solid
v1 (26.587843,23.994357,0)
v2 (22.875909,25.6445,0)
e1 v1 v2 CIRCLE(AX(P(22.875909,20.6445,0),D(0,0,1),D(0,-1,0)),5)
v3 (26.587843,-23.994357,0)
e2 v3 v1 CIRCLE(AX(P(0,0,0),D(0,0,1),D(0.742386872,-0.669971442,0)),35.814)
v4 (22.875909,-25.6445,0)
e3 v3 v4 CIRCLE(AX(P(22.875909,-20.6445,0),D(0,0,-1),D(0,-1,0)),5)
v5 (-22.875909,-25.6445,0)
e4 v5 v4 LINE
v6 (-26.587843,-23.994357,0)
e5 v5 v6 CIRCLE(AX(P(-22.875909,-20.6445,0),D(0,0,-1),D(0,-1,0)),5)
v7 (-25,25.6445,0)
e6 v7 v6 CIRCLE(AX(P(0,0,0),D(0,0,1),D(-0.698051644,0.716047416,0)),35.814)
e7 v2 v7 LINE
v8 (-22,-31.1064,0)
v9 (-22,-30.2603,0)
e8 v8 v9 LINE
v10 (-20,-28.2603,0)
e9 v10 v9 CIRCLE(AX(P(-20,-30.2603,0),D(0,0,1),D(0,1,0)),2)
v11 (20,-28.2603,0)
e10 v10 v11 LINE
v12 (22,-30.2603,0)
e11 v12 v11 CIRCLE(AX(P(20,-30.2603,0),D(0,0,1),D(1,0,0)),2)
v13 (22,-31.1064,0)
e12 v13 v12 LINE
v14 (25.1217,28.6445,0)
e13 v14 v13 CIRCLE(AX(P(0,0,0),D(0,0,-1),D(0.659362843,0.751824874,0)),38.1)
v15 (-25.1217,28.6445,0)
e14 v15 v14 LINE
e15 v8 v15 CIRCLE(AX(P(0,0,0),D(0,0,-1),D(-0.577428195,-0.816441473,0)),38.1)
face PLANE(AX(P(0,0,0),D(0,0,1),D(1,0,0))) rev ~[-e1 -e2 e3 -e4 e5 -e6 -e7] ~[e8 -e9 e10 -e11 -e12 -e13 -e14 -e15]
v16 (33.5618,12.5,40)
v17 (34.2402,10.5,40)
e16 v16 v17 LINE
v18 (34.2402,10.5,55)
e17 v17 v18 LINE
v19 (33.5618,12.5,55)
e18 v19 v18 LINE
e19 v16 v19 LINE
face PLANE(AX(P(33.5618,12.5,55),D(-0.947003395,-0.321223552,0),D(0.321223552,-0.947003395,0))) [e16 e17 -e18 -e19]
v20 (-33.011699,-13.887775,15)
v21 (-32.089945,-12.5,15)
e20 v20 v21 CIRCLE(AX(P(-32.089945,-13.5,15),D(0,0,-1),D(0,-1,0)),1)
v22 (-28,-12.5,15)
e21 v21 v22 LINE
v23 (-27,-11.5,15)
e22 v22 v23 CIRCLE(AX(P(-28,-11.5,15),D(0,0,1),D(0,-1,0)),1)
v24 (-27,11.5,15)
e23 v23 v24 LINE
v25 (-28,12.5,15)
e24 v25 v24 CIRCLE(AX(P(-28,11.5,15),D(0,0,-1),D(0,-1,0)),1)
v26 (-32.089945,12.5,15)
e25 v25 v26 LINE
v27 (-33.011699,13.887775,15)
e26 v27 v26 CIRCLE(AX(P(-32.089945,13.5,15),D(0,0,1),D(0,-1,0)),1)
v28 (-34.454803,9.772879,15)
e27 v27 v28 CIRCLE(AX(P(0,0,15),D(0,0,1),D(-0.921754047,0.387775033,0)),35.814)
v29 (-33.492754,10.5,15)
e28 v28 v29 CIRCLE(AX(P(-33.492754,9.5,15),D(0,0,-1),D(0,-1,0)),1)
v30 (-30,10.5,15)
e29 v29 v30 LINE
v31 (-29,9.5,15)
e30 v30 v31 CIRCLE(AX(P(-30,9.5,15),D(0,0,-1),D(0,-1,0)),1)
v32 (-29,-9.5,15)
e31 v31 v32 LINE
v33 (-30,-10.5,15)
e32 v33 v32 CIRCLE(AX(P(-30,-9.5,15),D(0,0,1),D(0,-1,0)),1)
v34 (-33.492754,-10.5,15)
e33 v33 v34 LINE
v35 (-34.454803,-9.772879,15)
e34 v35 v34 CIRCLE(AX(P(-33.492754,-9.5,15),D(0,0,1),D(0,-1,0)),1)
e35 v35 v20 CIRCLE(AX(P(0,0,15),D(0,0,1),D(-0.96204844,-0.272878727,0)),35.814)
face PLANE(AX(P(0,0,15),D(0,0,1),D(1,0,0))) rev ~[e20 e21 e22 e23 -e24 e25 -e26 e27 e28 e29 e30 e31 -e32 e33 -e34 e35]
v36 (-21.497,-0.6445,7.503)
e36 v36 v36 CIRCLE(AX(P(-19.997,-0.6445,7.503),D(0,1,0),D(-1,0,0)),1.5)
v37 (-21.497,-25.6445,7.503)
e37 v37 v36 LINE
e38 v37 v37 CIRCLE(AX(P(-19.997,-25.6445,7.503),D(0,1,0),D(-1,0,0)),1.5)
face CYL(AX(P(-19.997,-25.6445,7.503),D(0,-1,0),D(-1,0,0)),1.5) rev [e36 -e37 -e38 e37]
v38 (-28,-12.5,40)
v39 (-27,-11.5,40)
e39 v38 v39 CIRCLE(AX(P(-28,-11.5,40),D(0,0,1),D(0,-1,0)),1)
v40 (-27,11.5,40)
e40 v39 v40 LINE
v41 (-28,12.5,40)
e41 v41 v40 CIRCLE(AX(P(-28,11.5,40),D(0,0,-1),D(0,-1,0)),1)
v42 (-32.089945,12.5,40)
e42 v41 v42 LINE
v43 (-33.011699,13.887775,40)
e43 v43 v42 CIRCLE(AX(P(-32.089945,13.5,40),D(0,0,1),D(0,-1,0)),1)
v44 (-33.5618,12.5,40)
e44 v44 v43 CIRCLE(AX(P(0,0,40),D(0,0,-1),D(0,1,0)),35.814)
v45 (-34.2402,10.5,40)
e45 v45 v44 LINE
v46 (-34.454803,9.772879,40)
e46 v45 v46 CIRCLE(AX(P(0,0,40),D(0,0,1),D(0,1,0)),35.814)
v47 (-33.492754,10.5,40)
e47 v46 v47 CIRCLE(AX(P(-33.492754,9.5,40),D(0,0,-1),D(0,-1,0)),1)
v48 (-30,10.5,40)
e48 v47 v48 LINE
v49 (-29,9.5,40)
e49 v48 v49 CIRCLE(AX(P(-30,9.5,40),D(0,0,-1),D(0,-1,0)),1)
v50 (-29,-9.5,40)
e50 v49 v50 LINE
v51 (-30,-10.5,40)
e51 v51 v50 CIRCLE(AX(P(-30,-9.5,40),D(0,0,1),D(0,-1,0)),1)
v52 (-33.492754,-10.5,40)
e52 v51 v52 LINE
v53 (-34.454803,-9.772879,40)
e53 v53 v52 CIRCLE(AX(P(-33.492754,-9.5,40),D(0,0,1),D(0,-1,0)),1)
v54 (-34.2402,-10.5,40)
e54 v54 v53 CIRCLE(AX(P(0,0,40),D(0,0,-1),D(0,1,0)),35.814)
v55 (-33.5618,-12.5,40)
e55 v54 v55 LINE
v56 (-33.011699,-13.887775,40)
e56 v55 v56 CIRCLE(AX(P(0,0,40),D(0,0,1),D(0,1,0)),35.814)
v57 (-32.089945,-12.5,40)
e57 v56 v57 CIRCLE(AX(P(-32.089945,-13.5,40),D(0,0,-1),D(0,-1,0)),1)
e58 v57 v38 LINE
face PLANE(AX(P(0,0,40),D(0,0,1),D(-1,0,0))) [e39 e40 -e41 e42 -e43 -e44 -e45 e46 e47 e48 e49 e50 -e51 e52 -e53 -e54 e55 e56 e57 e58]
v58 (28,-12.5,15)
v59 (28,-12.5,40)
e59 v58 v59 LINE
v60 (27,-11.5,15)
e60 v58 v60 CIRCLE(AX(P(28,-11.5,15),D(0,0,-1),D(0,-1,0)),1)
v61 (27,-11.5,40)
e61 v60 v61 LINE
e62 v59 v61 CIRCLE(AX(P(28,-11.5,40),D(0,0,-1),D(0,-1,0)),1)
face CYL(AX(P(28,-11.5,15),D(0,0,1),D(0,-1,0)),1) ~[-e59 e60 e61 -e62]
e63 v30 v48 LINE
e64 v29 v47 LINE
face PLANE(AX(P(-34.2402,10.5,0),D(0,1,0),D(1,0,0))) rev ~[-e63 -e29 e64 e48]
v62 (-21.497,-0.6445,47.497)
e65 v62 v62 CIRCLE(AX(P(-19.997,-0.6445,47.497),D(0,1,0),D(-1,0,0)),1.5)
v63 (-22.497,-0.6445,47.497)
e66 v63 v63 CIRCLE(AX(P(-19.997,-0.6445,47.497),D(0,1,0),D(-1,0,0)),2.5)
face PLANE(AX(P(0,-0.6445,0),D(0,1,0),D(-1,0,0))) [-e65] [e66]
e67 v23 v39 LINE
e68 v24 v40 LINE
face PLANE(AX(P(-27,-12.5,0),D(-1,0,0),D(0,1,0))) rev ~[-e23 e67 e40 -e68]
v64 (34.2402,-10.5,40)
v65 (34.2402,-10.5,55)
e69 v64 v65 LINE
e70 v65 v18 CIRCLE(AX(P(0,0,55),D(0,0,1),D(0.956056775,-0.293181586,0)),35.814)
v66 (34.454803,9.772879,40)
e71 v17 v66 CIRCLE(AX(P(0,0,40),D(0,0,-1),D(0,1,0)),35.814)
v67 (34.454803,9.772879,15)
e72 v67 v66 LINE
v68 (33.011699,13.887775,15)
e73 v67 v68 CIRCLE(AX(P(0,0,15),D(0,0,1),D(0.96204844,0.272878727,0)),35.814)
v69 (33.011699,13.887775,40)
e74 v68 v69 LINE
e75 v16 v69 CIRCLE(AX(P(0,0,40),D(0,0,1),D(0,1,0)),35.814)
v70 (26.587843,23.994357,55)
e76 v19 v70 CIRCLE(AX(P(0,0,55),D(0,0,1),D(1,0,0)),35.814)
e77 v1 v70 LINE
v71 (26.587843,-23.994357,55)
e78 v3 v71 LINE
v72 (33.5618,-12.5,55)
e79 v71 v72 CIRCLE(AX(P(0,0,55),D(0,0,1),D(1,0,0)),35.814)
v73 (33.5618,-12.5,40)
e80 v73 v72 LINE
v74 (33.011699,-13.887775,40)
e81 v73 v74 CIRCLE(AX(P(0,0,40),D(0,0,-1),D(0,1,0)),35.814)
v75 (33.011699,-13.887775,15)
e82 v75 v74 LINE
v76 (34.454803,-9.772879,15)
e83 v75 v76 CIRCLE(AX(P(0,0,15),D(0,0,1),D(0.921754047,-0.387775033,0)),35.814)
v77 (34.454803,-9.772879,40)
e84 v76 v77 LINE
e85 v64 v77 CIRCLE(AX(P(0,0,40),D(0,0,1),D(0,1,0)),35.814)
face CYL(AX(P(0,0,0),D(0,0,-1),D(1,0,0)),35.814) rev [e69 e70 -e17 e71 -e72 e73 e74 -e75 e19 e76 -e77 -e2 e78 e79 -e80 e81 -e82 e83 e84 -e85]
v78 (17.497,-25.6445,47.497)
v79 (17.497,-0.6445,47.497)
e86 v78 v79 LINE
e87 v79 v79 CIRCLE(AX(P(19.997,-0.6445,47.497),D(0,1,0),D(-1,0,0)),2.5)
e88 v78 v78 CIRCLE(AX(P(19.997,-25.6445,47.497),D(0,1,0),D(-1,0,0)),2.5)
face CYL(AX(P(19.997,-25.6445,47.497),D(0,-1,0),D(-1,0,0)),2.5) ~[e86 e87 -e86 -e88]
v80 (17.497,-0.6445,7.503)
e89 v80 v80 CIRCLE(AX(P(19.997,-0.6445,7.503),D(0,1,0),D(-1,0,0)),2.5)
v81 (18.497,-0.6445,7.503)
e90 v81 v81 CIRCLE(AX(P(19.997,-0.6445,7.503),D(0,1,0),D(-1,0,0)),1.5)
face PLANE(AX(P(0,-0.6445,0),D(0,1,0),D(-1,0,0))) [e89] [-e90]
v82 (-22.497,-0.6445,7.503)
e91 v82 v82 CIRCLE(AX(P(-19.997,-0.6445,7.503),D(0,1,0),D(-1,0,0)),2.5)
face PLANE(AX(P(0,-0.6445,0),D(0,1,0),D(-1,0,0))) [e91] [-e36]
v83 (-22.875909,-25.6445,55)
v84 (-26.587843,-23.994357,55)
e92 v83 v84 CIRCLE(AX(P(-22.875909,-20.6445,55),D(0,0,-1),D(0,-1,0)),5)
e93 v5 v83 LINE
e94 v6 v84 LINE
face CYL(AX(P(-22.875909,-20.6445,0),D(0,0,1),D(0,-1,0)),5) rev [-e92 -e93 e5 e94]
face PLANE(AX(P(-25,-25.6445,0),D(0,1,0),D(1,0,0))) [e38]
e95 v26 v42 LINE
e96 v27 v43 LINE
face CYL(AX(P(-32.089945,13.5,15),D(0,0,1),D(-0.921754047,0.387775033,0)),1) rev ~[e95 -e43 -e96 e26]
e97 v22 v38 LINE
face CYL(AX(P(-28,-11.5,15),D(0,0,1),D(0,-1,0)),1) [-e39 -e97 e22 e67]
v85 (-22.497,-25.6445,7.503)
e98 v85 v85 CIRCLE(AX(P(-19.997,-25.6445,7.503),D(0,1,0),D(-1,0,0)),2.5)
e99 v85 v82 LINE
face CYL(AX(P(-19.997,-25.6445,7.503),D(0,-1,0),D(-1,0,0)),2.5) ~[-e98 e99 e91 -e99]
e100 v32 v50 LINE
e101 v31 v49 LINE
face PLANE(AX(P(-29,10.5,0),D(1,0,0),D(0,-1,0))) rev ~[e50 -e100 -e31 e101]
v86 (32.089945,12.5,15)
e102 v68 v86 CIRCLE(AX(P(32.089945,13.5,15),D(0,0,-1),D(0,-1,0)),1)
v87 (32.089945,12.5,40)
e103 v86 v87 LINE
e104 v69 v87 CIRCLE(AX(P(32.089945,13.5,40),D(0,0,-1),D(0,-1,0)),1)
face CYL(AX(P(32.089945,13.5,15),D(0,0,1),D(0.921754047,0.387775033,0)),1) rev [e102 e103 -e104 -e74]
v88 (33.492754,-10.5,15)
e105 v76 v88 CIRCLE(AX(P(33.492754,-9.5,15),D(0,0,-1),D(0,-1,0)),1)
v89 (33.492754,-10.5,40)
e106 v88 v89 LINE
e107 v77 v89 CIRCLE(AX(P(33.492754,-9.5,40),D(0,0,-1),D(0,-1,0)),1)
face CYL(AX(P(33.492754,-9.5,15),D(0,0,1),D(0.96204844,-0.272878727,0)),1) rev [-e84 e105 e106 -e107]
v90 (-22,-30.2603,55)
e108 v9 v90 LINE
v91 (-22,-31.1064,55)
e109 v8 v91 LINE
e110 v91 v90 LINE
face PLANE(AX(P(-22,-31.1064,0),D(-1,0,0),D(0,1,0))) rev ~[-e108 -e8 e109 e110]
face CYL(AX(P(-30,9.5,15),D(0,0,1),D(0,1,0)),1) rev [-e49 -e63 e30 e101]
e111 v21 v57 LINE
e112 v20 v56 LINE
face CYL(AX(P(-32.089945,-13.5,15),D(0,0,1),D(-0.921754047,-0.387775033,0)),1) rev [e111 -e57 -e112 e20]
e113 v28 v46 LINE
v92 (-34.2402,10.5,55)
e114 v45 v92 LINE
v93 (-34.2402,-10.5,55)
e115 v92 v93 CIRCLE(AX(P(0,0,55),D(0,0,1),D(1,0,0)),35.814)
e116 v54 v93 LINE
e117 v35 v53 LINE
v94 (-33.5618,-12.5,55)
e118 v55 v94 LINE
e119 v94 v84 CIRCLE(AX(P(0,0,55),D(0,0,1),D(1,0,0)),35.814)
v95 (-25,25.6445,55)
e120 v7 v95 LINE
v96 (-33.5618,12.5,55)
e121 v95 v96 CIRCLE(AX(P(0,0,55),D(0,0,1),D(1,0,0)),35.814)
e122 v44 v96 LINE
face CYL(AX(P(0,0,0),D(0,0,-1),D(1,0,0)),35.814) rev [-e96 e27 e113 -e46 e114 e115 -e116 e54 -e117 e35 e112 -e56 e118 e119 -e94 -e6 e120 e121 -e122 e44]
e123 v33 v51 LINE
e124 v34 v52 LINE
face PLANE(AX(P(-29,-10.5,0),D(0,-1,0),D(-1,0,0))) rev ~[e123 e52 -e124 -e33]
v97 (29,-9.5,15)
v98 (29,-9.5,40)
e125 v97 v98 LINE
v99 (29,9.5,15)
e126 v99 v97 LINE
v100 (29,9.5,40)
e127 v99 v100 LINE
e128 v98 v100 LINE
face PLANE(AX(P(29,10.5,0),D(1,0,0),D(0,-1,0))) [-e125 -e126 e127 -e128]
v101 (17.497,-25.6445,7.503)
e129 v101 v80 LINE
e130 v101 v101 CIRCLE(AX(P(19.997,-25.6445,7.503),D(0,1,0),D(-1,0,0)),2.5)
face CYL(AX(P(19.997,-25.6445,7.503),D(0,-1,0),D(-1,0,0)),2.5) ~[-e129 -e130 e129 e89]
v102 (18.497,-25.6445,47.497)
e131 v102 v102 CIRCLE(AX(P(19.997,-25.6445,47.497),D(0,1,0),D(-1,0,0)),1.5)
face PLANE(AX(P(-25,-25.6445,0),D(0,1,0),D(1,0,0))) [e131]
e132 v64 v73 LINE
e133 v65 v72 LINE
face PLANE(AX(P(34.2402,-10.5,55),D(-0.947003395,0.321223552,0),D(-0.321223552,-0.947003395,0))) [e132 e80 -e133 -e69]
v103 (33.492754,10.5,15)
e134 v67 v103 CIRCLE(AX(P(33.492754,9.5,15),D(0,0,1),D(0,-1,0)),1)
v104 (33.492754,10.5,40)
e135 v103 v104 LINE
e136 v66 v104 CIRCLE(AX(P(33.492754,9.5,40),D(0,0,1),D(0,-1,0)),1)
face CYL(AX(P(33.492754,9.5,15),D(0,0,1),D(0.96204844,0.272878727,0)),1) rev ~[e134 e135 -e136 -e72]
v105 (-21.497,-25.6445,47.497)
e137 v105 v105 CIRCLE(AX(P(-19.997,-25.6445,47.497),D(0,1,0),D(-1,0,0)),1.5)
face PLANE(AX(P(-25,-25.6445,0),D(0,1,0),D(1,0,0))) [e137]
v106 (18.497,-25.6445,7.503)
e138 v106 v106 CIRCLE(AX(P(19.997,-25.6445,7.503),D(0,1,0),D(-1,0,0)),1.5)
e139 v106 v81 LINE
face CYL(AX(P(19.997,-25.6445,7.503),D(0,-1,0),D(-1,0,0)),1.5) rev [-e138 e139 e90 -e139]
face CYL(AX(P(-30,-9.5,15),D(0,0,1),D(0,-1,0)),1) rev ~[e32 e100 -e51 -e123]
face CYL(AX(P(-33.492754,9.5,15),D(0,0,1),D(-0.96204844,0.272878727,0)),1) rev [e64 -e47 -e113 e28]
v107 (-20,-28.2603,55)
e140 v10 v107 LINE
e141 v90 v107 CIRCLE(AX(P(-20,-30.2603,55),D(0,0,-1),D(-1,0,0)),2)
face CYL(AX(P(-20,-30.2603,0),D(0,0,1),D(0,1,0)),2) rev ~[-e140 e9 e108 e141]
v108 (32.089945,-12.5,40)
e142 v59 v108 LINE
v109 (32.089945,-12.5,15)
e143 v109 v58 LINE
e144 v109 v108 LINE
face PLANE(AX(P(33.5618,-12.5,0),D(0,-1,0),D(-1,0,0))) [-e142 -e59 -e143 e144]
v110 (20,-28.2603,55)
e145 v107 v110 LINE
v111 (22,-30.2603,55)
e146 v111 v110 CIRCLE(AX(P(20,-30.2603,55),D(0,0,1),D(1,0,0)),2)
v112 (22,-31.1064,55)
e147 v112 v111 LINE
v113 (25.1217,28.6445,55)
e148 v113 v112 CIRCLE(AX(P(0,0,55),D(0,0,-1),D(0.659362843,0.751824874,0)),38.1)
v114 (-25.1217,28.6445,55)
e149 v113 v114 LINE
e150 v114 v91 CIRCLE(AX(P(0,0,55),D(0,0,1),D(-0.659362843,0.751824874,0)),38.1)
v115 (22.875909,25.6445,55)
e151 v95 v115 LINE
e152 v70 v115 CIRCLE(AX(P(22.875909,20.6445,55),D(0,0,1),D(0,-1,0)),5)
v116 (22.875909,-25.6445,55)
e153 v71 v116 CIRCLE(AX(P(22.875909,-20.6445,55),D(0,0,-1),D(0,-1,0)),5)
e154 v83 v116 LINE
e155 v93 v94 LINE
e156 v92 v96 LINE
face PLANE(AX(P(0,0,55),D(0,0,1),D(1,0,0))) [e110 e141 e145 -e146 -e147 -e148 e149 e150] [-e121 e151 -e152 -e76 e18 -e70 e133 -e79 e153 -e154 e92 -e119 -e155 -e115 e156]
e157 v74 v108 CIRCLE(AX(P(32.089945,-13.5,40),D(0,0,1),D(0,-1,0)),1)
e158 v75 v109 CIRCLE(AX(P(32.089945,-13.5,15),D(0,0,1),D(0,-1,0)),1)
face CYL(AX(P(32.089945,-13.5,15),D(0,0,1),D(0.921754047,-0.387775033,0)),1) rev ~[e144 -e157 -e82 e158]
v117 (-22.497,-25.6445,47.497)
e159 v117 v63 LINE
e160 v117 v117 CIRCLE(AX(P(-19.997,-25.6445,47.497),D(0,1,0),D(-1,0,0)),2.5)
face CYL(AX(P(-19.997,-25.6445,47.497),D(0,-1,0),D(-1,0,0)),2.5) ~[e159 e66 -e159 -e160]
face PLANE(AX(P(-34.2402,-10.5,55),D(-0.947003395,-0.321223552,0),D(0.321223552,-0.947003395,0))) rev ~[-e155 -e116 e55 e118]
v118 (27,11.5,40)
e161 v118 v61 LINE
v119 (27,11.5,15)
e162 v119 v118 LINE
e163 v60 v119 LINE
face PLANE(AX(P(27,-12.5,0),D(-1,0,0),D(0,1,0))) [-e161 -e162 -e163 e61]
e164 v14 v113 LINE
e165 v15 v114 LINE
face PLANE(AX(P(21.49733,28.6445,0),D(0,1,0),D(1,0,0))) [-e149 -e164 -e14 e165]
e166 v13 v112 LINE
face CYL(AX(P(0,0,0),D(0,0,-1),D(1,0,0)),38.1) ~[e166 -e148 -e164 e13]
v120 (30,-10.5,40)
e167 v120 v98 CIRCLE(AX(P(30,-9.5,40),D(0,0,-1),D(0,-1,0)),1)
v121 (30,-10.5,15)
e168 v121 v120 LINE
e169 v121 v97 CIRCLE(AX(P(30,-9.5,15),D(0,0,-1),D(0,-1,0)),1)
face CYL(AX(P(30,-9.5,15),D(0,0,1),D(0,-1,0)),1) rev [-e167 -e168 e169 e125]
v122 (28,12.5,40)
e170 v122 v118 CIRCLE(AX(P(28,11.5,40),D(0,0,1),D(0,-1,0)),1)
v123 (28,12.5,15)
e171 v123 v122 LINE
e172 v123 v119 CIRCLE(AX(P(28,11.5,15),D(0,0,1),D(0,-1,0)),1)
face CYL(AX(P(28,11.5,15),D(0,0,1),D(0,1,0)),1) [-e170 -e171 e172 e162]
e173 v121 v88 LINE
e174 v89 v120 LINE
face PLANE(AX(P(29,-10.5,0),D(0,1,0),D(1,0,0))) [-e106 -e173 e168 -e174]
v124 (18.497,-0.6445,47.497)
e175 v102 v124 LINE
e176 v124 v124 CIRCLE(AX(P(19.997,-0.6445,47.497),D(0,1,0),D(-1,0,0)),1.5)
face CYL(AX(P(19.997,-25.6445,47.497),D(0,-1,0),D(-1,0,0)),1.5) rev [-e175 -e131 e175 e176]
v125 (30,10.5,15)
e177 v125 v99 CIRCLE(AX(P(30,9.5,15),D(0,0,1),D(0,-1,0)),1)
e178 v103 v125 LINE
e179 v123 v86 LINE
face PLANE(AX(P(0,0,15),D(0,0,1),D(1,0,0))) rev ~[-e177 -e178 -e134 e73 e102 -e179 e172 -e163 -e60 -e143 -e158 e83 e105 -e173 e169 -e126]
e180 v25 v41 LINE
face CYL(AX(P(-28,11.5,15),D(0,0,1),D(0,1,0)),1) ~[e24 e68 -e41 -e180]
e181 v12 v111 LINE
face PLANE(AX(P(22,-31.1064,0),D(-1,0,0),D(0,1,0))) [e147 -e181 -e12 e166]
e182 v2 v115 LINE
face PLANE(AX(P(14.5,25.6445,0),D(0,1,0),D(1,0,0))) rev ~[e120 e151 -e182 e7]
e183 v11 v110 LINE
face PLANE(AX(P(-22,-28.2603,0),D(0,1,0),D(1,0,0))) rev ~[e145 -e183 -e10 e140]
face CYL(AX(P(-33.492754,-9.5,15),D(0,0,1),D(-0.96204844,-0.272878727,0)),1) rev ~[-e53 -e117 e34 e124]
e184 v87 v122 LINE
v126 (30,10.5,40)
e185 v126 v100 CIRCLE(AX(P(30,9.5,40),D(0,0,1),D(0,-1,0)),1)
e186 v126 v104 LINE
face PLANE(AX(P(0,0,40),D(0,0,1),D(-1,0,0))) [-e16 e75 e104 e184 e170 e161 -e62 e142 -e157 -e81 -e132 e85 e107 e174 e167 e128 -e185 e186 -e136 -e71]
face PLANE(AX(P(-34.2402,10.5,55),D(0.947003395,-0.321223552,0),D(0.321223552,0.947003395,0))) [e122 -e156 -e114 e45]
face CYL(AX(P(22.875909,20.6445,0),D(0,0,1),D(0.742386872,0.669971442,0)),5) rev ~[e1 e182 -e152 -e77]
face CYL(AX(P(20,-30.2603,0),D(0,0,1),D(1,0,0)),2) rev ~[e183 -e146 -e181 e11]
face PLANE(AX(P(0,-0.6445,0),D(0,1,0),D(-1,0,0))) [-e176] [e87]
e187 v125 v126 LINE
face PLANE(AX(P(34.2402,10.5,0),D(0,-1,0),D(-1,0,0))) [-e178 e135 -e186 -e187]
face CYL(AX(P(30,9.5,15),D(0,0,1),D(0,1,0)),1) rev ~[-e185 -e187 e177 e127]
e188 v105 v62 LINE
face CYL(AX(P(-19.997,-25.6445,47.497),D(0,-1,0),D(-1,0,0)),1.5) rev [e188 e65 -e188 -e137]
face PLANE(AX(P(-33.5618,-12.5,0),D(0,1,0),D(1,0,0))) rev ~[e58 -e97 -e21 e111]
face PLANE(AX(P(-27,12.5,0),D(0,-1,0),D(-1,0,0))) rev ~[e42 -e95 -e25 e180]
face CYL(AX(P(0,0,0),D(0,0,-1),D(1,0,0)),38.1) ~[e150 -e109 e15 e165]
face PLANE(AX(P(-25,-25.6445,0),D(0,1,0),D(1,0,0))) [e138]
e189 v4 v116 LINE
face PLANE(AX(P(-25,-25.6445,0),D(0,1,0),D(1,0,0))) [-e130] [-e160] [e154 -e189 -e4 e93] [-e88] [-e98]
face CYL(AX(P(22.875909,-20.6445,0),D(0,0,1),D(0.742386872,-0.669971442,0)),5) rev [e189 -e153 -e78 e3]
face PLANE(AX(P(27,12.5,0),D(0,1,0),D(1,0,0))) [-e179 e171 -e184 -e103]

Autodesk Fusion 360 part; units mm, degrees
sketch "Sketch1" plane through (0, 0, 0) normal (0, 0, 1) x (1, 0, 0)
  circle A0 centre (0, 0) radius 35.814
  circle A1 centre (0, 0) radius 38.1
  line L0 (-25, -25.6445) -> (25, -25.6445)
  line L1 (-25, 25.6445) -> (-25, -25.6445)
  line L2 (-25, 25.6445) -> (28.1774, 25.6445)
  line L3 (-25, 25.6445) -> (-28.1774, 25.6445)
  line L4 (-22, -31.1064) -> (-22, -28.2603)
  line L5 (-22, -28.2603) -> (22, -28.2603)
  line L6 (22, -31.1064) -> (22, -28.2603)
  line L7 (-25.1217, 28.6445) -> (25.1217, 28.6445)
  line L8 (12.5, 25.6445) -> (-12.5, 25.6445)
  line L9 (-12.5, 25.6445) -> (-12.5, 21.6445)
  line L10 (-12.5, 21.6445) -> (12.5, 21.6445)
  line L11 (12.5, 21.6445) -> (12.5, 25.6445)
  line L12 (14.5, 25.6445) -> (-14.5, 25.6445)
  line L13 (-14.5, 25.6445) -> (-14.5, 19.6445)
  line L14 (-14.5, 19.6445) -> (14.5, 19.6445)
  line L15 (14.5, 19.6445) -> (14.5, 25.6445)
  line L16 (0, 21.6445) -> (0, 25.6445)
  line L17 (0, 25.6445) -> (0, 0) construction
  line L18 (34.2402, 10.5) -> (29, 10.5)
  line L19 (29, 10.5) -> (29, -10.5)
  line L20 (29, -10.5) -> (34.2402, -10.5)
  line L21 (33.5618, -12.5) -> (27, -12.5)
  line L22 (27, -12.5) -> (27, 12.5)
  line L23 (27, 12.5) -> (33.5618, 12.5)
  line L24 (27, 0) -> (0, 0) construction
  line L25 (-27, -12.5) -> (-27, 12.5)
  line L26 (-29, 10.5) -> (-29, -10.5)
  line L27 (-34.2402, 10.5) -> (-29, 10.5)
  line L28 (-27, 12.5) -> (-33.5618, 12.5)
  line L29 (-29, -10.5) -> (-34.2402, -10.5)
  line L30 (-33.5618, -12.5) -> (-27, -12.5)
  dimension "d1" = 76.2
  dimension "d3" = 50
  dimension "d15" = 3
  dimension "d16" = 3
  dimension "d24" = 2
  dimension "d25" = 2
  dimension "d26" = 2
  dimension "d27" = 25
  dimension "d28" = 6
  dimension "d37" = 2
  dimension "d38" = 25
  dimension "d39" = 2
  dimension "d40" = 2
  dimension "d41" = 2
  dimension "d60" = 71.628
extrude "Extrude1" add sketch "Sketch1" along normal blind 55 contours A0 A1 L2 L6 | A0 L18 L19 L20 L21 L22 L23 | A0 L2 L7 L8 L12 | A0 A1 L2 L7 | A0 L0 L5 | A0 A1 L3 L4 | A0 A1 L3 L7 | A0 L25 L26 L27 L28 L29 L30
sketch "Sketch3" plane through (0, -25.6445, 0) normal (0, 1, 0) x (-1, 0, 0)
  line L0 (-25, 0) -> (25, 0)
  line L1 (25, 0) -> (25, 55)
  line L2 (25, 55) -> (-25, 55)
  line L3 (-25, 55) -> (-25, 0)
  line L4 (0, 0) -> (0, 27.5) construction
  line L5 (-25, 27.5) -> (0, 27.5) construction
  line L6 (0, 27.5) -> (-19.997, 7.503) construction
  circle A0 centre (-19.997, 7.503) radius 1.5
  circle A1 centre (-19.997, 7.503) radius 2.5
  circle A2 centre (19.997, 7.503) radius 2.5
  circle A3 centre (19.997, 7.503) radius 1.5
  circle A4 centre (19.997, 47.497) radius 2.5
  circle A5 centre (19.997, 47.497) radius 1.5
  circle A6 centre (-19.997, 47.497) radius 2.5
  circle A7 centre (-19.997, 47.497) radius 1.5
  dimension "d7" = 45
  dimension "d8" = 28.28
  dimension "d9" = 3
  dimension "d10" = 5
  dimension "d12" = 360
extrude "Extrude2" add sketch "Sketch3" along normal blind 25 contours A1 | A2 | A4 | A6
fillet "Fillet1" radius 2 2 edges at (22, -28.2603, 27.5) (-22, -28.2603, 27.5)
fillet "Fillet2" radius 5 4 edges at (25, -25.6445, 27.5) (25, -25.6445, 27.5) (25, 25.6445, 27.5) (25, 25.6445, 27.5)
extrude "Extrude3" cut sketch "Sketch1" along normal blind 15 contours A0 L18 L19 L20 L21 L22 L23 | L2 L9 L10 L11 L12 L13 L14 L15 | A0 L25 L26 L27 L28 L29 L30
sketch "Sketch5" plane through (0, 0, 55) normal (0, 0, 1) x (-1, 0, 0)
  arc A0 (34.2402, -10.5) -> (34.2402, 10.5) centre (0, 0) ccw
  line L0 (34.2402, -10.5) -> (29, -10.5)
  line L1 (29, -10.5) -> (29, 10.5)
  line L2 (29, 10.5) -> (34.2402, 10.5)
  line L3 (-22.8759, 25.6445) -> (25, 25.6445)
  arc A1 (33.5618, 12.5) -> (25, 25.6445) centre (0, 0) ccw
  line L4 (33.5618, 12.5) -> (27, 12.5)
  line L5 (27, 12.5) -> (27, -12.5)
  line L6 (27, -12.5) -> (33.5618, -12.5)
  arc A2 (25, -25.6445) -> (33.5618, -12.5) centre (0, 0) ccw
  line L7 (25, -25.6445) -> (-22.8759, -25.6445)
  arc A3 (-26.5878, -23.9944) -> (-22.8759, -25.6445) centre (-22.8759, -20.6445) ccw
  arc A4 (-33.5618, -12.5) -> (-26.5878, -23.9944) centre (0, 0) ccw
  line L8 (-33.5618, -12.5) -> (-27, -12.5)
  line L9 (-27, -12.5) -> (-27, 12.5)
  line L10 (-27, 12.5) -> (-33.5618, 12.5)
  arc A5 (-26.5878, 23.9944) -> (-33.5618, 12.5) centre (0, 0) ccw
  arc A6 (-22.8759, 25.6445) -> (-26.5878, 23.9944) centre (-22.8759, 20.6445) ccw
  line L11 (-34.2402, 10.5) -> (-29, 10.5)
  line L12 (-29, 10.5) -> (-29, -10.5)
  line L13 (-29, -10.5) -> (-34.2402, -10.5)
  arc A7 (-34.2402, 10.5) -> (-34.2402, -10.5) centre (0, 0) ccw
  line L14 (22, 31.1064) -> (22, 30.2603)
  arc A8 (20, 28.2603) -> (22, 30.2603) centre (20, 30.2603) ccw
  line L15 (20, 28.2603) -> (-20, 28.2603)
  arc A9 (-22, 30.2603) -> (-20, 28.2603) centre (-20, 30.2603) ccw
  line L16 (-22, 30.2603) -> (-22, 31.1064)
  arc A10 (-22, 31.1064) -> (-25.1217, -28.6445) centre (0, 0) ccw
  line L17 (-25.1217, -28.6445) -> (25.1217, -28.6445)
  arc A11 (25.1217, -28.6445) -> (22, 31.1064) centre (0, 0) ccw
  line L18 (-33.5618, -12.5) -> (-34.2402, -10.5)
  line L19 (-34.2402, 10.5) -> (-33.5618, 12.5)
  line L20 (34.2402, 10.5) -> (33.5618, 12.5)
  line L21 (34.2402, -10.5) -> (33.5618, -12.5)
extrude "Extrude5" cut sketch "Sketch5" against normal blind 15 contours L0 L1 L2 L4 L5 L6 L20 L21 | L8 L9 L10 L11 L12 L13 L18 L19
fillet "Fillet6" radius 5 1 edges at (-25, -25.6445, 27.5)
fillet "Fillet7" radius 1 15 edges at (27, 12.5, 27.5) (27, -12.5, 27.5) (33.5618, -12.5, 27.5) (34.2402, 10.5, 27.5) (33.5618, 12.5, 27.5) (-27, 12.5, 27.5) (-27, -12.5, 27.5) (-34.2402, -10.5, 27.5) (-29, -10.5, 27.5) (-29, 10.5, 27.5) (-33.5618, 12.5, 27.5) (-33.5618, -12.5, 27.5) (29, -10.5, 27.5) (29, 10.5, 27.5) (34.2402, -10.5, 27.5)
fillet "Fillet8" radius 1 1 edges at (-34.2402, 10.5, 27.5)
equation "d8 = 20 * 1.414 mm"
